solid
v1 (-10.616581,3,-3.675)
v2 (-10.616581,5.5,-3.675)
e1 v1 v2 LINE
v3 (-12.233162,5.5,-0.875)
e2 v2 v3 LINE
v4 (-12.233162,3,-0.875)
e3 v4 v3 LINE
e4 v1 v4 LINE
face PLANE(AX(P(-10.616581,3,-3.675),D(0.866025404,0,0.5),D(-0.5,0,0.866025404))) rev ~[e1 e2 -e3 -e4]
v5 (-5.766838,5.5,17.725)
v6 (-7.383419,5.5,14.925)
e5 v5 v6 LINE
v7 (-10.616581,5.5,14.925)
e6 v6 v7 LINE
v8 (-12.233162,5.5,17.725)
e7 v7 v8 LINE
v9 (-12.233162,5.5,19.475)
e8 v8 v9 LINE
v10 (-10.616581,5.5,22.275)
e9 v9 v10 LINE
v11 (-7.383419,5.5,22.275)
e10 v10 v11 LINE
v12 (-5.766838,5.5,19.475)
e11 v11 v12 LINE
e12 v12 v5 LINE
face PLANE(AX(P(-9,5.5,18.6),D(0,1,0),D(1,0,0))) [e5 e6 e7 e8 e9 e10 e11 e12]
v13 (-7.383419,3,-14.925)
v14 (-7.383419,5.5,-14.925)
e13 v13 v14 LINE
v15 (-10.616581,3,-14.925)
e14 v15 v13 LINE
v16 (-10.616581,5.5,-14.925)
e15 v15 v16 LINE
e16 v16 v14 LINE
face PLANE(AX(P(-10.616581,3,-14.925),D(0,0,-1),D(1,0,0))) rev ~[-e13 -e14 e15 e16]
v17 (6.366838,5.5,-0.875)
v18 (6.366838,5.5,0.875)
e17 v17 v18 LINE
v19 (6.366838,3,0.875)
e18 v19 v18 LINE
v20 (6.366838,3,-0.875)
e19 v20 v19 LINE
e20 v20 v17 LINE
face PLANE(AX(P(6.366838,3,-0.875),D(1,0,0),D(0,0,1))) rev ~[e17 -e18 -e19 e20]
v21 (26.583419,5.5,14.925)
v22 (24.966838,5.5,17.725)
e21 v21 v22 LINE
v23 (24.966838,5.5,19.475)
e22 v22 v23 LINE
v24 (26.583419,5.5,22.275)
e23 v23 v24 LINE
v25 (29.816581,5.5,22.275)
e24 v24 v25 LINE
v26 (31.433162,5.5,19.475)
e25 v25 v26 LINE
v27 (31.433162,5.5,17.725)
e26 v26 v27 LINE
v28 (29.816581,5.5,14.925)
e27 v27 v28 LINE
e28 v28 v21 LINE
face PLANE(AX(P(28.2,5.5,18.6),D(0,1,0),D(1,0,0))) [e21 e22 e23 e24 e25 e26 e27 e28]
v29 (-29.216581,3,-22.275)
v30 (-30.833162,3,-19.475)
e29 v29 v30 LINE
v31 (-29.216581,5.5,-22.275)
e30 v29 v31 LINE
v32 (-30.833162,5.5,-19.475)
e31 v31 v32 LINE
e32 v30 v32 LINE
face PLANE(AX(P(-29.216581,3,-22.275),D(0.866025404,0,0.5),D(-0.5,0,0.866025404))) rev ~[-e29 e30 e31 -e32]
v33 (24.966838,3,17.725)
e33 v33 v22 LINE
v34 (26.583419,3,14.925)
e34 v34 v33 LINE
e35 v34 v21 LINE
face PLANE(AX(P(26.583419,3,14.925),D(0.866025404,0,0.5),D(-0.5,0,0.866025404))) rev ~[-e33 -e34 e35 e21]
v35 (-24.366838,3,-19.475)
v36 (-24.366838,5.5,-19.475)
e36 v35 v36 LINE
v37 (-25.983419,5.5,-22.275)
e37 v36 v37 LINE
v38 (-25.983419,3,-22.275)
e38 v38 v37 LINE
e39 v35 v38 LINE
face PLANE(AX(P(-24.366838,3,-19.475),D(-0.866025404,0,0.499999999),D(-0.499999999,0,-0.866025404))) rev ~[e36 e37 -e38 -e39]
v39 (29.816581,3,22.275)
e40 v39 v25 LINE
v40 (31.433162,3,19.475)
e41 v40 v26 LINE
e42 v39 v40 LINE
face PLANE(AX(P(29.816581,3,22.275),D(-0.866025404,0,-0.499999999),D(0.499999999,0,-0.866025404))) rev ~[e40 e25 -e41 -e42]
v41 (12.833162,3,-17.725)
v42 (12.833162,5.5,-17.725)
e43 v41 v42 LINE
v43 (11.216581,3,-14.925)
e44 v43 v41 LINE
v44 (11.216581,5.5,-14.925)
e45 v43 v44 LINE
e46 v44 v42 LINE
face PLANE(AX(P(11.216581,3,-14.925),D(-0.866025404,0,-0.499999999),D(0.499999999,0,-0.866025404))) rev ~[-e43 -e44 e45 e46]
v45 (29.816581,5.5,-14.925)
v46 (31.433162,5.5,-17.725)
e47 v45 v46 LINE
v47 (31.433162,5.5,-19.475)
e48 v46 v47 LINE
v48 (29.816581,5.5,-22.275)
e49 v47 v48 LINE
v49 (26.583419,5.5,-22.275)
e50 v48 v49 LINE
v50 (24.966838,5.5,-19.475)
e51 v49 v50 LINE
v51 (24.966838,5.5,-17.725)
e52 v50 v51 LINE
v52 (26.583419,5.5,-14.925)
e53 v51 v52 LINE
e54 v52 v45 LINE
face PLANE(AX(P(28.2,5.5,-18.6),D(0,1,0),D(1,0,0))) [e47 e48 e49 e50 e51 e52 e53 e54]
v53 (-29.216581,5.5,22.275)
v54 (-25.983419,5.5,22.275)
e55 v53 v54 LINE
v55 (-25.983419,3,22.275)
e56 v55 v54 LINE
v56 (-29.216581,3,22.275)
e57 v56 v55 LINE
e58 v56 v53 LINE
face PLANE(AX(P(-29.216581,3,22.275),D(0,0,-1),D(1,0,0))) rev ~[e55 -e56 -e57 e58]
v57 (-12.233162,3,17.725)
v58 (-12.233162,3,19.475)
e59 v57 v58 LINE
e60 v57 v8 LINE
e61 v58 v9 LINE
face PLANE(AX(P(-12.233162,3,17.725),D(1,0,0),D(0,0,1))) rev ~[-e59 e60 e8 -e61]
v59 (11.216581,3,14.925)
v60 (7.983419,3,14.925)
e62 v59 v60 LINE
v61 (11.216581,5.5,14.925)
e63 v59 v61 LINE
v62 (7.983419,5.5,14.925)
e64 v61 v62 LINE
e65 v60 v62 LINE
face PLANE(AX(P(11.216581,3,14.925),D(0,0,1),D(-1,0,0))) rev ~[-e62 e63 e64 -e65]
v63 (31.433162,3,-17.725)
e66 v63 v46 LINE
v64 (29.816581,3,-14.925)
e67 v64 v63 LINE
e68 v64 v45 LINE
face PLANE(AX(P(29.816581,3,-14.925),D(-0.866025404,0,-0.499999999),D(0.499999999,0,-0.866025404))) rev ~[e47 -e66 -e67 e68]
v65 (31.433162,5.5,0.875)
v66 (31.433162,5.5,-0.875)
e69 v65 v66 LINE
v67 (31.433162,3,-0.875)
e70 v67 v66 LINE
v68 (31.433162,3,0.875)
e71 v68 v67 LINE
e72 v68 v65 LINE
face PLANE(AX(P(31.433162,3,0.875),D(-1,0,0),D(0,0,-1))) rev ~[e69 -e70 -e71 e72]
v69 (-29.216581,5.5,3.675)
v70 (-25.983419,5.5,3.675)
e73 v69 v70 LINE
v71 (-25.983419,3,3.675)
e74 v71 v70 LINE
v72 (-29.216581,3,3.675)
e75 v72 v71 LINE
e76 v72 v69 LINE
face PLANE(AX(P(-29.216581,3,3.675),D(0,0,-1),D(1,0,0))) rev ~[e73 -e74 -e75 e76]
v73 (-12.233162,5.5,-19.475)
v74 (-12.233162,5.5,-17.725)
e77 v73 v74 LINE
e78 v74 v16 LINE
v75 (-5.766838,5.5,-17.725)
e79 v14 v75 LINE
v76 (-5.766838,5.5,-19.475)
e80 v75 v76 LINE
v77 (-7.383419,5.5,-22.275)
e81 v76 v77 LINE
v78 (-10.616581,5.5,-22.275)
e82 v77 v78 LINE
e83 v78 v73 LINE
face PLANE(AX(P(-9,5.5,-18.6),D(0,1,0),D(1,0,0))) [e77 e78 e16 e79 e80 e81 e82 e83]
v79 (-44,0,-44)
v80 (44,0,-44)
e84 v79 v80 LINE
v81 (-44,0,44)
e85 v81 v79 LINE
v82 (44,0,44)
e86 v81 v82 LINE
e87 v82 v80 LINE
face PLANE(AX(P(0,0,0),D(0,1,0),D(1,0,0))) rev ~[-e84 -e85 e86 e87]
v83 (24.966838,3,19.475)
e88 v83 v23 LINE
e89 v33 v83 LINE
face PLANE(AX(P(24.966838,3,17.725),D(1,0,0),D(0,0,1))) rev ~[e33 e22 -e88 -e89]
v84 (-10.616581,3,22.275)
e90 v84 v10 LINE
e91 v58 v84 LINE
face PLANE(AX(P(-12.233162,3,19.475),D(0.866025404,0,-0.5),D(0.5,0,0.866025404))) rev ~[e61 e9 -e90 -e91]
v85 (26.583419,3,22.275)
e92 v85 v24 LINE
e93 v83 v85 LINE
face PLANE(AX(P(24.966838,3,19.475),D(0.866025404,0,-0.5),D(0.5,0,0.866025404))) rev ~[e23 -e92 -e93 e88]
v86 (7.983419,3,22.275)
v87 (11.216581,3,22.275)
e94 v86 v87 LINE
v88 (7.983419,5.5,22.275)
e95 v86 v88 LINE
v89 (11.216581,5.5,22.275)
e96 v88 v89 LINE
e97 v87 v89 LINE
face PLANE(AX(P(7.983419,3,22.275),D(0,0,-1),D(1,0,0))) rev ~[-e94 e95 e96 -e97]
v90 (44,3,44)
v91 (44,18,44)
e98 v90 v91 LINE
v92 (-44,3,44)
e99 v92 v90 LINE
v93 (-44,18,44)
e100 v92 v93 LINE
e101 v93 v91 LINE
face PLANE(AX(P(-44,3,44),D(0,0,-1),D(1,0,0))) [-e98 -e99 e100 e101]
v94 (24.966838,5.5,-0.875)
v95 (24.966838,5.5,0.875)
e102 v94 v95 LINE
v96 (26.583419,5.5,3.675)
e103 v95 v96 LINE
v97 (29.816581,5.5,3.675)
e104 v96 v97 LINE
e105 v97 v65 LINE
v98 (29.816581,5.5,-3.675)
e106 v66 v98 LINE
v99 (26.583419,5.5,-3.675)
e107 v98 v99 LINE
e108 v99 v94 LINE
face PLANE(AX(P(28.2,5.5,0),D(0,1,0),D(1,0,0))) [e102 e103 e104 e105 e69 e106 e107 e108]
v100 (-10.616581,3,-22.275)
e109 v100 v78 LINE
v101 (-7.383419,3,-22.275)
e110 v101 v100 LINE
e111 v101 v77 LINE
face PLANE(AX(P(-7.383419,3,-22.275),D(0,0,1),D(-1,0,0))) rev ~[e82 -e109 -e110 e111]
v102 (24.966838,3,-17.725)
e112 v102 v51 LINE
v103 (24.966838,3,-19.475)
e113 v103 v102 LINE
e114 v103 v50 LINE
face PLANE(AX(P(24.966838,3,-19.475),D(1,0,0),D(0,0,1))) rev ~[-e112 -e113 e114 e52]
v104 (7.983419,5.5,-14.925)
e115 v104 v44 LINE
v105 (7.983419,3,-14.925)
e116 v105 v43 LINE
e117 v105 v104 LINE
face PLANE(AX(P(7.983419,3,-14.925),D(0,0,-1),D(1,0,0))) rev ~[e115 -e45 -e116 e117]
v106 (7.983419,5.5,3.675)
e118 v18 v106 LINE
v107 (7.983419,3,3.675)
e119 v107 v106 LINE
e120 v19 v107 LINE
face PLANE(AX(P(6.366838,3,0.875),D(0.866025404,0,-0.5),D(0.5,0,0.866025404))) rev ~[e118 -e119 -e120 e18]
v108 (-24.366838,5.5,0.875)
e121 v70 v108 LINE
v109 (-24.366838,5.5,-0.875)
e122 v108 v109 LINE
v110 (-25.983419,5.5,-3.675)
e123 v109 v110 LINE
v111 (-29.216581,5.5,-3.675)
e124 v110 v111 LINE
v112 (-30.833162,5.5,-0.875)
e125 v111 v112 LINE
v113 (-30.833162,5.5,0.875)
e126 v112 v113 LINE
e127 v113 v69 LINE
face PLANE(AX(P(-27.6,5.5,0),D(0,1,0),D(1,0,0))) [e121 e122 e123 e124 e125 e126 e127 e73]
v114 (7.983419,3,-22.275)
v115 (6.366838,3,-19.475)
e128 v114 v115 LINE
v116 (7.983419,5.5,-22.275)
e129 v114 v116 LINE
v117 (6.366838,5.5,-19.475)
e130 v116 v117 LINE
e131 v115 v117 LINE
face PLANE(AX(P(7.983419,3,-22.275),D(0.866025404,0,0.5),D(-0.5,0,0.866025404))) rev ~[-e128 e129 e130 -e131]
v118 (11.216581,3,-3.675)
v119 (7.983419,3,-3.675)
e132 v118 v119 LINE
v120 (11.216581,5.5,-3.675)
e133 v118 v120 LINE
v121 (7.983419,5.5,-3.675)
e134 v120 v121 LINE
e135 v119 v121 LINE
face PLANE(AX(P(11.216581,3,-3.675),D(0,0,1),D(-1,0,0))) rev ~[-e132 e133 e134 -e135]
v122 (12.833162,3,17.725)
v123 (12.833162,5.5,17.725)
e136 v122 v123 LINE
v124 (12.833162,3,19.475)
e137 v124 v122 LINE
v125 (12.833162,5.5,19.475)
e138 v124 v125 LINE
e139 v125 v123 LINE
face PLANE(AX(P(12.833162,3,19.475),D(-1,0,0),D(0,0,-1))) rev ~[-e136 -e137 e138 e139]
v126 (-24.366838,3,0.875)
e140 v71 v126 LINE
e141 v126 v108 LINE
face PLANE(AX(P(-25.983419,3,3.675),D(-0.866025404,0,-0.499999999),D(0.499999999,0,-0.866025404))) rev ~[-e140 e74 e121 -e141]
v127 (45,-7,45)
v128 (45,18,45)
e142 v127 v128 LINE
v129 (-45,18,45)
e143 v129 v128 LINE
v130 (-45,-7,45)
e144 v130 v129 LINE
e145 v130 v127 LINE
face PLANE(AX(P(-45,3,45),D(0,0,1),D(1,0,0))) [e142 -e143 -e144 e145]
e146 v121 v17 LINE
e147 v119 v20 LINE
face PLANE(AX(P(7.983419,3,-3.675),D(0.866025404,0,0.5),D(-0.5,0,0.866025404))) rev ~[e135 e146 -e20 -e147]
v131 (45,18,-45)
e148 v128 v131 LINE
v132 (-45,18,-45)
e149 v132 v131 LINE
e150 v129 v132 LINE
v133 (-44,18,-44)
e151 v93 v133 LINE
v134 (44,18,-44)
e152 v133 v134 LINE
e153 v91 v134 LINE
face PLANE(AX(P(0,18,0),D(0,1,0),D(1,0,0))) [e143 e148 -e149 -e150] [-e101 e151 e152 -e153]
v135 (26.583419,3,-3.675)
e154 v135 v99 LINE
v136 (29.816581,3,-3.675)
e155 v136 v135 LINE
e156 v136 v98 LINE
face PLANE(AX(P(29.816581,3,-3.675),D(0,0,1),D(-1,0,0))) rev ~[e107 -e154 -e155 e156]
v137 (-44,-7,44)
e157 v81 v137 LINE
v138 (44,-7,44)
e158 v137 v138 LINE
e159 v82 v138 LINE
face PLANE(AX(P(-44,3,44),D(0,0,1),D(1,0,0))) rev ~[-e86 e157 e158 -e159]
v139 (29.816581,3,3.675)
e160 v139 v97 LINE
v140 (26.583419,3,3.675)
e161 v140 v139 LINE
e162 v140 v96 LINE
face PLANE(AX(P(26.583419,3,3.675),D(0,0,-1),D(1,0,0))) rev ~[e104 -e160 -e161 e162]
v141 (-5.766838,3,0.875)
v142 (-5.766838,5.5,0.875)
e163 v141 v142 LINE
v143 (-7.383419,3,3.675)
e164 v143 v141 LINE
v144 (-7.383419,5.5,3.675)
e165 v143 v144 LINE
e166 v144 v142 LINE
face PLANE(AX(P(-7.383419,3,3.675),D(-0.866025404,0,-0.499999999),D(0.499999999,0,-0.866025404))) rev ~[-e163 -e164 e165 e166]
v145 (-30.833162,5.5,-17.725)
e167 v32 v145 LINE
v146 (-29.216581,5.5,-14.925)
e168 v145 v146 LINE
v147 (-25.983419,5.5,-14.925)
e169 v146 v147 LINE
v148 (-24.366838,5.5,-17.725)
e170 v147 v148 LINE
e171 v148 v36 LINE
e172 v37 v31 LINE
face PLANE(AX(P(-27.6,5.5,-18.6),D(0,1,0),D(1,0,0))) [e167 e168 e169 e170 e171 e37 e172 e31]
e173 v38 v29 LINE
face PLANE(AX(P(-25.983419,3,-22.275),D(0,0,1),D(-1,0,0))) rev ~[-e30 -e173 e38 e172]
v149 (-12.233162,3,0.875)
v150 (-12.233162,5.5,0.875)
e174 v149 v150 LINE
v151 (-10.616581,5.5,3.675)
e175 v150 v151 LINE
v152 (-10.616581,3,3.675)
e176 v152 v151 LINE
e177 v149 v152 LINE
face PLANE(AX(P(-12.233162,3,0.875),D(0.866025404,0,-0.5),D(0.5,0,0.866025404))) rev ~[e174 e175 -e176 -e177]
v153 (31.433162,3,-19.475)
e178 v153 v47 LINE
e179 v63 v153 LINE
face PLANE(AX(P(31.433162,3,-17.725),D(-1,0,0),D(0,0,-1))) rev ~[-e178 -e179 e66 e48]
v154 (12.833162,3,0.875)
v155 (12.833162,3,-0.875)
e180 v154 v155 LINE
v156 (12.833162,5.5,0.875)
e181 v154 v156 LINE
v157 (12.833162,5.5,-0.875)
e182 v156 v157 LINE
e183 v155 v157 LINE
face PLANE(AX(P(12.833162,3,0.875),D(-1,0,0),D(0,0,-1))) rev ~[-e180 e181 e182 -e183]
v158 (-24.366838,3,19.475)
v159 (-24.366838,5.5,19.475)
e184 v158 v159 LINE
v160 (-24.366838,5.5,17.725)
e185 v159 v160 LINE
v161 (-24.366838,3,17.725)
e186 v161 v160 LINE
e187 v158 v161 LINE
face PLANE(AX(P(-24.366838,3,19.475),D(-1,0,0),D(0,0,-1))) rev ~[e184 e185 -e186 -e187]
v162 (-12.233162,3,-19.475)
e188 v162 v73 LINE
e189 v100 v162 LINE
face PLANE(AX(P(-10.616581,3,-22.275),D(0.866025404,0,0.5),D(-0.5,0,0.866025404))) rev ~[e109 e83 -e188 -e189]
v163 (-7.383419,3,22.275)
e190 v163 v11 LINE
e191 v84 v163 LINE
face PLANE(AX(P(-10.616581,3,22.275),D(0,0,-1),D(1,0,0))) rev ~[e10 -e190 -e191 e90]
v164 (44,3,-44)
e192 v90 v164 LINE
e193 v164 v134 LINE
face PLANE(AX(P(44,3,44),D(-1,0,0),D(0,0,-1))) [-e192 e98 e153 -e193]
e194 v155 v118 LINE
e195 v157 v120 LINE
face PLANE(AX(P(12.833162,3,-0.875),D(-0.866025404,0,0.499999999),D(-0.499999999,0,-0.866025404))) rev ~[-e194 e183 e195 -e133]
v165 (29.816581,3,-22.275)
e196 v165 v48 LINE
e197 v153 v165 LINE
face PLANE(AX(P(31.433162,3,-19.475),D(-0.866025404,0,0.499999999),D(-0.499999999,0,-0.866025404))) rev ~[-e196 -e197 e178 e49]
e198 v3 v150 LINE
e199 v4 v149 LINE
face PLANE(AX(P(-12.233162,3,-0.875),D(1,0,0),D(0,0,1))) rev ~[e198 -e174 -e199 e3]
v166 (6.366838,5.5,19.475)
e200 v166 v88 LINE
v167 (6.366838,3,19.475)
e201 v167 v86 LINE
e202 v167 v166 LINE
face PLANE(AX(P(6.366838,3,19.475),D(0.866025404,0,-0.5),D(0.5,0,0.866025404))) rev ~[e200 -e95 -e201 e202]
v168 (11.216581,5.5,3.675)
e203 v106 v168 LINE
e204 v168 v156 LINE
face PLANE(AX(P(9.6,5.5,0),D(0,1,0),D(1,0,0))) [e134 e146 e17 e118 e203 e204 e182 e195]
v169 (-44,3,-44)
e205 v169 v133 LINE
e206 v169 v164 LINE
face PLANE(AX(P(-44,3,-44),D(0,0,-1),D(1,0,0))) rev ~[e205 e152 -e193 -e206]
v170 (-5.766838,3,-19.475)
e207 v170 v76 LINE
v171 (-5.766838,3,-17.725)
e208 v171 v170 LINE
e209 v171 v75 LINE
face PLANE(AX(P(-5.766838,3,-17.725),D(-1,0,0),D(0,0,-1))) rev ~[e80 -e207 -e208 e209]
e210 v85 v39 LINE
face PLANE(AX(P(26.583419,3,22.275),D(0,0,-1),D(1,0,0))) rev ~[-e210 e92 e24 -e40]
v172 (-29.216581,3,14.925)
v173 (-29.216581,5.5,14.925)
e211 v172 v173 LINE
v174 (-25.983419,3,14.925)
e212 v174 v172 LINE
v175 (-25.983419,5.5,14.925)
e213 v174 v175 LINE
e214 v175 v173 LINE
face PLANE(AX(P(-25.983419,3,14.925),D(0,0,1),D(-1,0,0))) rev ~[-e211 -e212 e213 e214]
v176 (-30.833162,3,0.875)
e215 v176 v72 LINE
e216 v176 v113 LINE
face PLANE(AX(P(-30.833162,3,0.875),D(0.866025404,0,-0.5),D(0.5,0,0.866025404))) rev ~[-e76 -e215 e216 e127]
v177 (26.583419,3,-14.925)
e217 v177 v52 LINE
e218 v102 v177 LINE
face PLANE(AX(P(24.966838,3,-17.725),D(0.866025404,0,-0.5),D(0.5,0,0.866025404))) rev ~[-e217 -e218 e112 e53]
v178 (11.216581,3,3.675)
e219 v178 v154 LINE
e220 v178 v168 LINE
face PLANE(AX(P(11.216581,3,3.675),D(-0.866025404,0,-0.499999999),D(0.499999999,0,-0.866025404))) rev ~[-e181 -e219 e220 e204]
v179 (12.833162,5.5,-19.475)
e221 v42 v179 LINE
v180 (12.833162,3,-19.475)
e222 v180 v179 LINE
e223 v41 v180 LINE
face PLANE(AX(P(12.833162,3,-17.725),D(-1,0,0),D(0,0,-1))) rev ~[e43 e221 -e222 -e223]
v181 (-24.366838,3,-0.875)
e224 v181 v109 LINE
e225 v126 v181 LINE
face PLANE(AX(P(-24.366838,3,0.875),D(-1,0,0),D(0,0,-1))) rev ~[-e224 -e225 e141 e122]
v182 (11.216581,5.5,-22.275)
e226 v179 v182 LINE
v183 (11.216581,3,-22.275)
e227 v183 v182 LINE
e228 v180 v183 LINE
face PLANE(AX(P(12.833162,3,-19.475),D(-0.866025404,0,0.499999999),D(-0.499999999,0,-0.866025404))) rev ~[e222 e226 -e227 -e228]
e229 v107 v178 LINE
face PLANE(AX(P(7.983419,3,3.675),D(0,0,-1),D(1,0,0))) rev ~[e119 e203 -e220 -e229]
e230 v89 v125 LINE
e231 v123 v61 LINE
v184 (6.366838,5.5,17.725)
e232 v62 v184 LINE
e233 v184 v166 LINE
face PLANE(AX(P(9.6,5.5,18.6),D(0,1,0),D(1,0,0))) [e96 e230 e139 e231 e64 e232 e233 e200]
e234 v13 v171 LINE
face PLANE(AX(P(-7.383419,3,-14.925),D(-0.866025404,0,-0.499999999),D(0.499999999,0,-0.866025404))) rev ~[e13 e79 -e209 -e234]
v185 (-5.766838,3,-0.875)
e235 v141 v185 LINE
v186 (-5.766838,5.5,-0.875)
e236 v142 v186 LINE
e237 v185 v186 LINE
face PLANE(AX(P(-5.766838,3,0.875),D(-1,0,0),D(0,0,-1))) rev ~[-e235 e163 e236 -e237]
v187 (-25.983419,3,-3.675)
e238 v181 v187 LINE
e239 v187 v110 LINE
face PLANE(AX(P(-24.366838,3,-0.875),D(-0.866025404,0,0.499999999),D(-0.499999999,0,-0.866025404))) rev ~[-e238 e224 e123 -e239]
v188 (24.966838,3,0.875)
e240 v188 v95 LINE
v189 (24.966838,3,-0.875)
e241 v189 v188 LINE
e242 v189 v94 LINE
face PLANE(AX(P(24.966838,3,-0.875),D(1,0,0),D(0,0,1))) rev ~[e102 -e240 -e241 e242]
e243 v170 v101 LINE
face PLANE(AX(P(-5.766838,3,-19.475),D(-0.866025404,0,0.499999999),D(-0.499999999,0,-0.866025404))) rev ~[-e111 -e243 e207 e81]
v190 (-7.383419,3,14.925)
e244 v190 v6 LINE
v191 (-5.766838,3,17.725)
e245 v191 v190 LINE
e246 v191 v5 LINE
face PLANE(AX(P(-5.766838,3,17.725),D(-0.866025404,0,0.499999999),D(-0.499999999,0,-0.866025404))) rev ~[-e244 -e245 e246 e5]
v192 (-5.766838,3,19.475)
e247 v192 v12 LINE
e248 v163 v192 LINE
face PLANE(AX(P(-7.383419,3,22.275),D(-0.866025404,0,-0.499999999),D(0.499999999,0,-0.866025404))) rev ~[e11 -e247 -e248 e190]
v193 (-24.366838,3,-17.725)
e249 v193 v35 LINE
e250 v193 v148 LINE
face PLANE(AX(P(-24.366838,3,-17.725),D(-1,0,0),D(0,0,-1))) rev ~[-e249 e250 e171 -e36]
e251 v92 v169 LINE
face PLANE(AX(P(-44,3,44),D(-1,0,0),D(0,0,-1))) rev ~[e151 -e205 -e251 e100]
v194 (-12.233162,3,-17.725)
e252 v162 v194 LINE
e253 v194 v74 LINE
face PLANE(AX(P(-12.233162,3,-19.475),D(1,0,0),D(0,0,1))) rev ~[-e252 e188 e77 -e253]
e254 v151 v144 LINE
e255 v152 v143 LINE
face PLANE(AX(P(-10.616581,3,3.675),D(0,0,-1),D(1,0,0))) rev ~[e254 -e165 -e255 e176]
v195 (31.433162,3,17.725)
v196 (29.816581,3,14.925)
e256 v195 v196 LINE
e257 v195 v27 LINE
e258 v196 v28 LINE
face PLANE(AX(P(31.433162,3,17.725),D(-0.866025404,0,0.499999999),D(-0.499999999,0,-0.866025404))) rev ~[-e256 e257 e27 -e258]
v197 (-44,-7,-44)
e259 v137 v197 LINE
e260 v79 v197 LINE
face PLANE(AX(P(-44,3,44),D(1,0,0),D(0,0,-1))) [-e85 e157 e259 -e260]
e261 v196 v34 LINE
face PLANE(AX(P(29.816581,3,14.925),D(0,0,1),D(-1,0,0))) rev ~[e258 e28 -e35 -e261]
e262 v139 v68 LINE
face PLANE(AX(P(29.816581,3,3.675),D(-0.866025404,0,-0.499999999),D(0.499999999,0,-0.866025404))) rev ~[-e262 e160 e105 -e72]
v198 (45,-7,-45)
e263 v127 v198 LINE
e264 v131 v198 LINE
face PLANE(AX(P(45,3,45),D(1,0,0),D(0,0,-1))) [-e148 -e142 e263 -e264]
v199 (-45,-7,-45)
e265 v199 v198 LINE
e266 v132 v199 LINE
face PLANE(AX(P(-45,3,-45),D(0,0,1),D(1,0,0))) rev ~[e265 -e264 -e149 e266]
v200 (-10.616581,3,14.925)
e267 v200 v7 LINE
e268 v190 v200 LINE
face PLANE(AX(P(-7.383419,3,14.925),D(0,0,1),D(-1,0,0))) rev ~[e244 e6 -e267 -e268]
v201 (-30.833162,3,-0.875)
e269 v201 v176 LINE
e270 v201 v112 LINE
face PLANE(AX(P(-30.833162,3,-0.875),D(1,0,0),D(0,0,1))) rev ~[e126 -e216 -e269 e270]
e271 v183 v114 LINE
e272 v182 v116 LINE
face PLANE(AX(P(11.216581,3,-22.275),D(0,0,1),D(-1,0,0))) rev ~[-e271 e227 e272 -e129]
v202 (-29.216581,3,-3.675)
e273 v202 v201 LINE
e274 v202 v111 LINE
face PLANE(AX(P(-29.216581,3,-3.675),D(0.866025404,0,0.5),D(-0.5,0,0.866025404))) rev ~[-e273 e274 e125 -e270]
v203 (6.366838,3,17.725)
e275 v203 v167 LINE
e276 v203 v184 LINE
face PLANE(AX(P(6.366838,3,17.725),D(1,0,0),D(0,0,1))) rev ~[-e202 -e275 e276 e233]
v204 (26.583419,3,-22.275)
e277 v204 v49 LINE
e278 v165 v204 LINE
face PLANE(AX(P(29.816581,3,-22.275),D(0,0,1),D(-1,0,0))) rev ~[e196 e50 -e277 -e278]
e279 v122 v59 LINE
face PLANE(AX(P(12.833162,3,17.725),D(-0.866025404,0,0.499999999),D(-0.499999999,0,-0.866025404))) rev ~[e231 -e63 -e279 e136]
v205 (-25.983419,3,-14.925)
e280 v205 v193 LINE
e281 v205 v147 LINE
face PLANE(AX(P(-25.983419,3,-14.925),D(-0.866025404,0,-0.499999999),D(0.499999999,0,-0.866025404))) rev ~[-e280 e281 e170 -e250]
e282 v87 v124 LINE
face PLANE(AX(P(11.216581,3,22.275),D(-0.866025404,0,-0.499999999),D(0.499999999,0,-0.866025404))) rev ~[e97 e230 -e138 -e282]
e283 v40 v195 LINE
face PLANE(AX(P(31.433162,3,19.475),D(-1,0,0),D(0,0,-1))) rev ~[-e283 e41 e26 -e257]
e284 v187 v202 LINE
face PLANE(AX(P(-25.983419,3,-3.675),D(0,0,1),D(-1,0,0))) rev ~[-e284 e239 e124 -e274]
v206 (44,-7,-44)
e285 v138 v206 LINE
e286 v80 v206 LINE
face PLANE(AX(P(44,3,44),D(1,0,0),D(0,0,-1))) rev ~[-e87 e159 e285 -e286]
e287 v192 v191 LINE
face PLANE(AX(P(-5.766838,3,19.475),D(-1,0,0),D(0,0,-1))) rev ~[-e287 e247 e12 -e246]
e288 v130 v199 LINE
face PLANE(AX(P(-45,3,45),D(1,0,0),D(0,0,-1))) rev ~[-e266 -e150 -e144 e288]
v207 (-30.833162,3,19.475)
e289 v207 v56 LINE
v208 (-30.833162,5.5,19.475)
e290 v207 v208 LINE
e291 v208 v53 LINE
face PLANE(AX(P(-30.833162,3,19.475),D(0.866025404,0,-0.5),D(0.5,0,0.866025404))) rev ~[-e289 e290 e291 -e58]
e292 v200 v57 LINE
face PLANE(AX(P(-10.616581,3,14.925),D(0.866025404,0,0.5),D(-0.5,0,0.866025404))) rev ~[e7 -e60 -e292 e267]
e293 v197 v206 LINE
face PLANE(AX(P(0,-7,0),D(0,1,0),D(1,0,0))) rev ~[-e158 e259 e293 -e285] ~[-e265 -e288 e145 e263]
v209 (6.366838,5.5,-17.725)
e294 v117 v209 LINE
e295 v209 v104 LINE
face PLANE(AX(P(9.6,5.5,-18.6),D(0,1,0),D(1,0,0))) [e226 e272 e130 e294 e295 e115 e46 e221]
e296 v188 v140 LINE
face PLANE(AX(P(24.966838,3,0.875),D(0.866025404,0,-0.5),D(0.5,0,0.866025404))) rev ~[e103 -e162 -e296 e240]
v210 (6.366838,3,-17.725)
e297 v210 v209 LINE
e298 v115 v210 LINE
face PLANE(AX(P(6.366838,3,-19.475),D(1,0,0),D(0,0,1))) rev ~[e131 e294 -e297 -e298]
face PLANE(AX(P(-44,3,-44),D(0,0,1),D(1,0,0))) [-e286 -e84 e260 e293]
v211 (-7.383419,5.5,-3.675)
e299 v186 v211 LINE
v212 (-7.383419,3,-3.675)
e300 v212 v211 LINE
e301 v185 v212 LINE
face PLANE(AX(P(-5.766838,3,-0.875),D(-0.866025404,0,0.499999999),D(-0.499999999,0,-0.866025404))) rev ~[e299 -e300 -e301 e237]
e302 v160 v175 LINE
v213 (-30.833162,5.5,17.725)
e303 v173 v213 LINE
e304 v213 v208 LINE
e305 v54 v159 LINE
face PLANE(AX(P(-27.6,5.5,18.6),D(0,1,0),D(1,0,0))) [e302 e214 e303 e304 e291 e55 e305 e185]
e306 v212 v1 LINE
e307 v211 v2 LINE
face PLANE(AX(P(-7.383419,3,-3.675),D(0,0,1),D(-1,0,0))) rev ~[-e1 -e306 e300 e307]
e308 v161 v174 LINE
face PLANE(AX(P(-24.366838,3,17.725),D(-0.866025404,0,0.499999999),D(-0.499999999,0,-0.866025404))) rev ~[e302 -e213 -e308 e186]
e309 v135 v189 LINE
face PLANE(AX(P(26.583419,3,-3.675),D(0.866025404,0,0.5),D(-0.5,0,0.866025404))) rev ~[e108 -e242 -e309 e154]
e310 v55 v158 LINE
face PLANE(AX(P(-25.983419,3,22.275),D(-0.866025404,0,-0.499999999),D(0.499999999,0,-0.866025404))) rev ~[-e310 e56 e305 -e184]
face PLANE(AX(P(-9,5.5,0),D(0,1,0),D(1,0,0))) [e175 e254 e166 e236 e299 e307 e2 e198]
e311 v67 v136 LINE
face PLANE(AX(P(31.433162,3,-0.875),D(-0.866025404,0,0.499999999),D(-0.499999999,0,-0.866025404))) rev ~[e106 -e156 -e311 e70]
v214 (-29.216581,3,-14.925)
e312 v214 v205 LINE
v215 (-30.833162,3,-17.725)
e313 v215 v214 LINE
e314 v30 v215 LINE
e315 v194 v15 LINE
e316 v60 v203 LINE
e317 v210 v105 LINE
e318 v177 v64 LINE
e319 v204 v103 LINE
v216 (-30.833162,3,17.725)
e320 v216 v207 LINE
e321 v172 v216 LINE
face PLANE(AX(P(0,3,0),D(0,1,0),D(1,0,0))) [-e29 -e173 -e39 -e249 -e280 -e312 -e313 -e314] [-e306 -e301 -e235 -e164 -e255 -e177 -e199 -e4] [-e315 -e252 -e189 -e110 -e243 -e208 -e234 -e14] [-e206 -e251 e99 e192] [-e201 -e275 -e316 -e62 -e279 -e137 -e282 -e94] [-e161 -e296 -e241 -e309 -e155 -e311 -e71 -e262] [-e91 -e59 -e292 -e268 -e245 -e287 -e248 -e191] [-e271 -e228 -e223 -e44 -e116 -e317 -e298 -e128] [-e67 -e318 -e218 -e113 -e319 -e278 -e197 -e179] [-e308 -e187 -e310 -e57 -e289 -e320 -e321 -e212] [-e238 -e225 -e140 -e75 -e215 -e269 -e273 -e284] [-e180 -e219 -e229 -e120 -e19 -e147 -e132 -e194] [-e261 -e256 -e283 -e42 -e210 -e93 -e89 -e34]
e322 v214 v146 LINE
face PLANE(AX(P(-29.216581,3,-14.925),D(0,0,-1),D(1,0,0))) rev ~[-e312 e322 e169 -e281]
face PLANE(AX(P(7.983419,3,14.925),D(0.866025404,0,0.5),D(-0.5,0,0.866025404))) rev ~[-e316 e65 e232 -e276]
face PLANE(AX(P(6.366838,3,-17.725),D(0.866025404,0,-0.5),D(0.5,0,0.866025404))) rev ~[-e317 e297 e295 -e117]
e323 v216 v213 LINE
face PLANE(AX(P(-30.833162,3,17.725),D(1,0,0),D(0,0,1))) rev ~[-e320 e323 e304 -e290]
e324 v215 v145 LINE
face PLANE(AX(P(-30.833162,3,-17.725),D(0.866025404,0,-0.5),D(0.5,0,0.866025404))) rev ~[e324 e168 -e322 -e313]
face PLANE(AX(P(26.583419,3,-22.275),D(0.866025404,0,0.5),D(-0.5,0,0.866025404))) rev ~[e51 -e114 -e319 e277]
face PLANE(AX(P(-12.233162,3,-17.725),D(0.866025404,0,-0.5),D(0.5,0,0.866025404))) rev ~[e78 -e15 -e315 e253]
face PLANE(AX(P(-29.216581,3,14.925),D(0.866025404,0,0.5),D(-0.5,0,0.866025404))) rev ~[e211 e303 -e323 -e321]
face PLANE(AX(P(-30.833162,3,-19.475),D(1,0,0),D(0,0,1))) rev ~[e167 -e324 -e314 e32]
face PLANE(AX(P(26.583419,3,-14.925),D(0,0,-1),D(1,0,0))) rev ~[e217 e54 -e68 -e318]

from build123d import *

# Parameters (mm, degrees)
SKETCH1_W                = 90
SKETCH1_H                = 90
BOSS_EXTRUDE1_DEPTH      = 3
BOSS_EXTRUDE3_DEPTH      = 2.5
SKETCH6_W                = 90
SKETCH6_H                = 90
SKETCH6_W_2              = 88
SKETCH6_H_2              = 88
BOSS_EXTRUDE4_DEPTH      = 15
BOSS_EXTRUDE4_DEPTH_BACK = 10


with BuildPart() as part:
    # Sketch1 → Boss-Extrude1 (new body)
    with BuildSketch(Plane(origin=(0, 0, 0), x_dir=(1, 0, 0), z_dir=(0, 1, 0))):
        Rectangle(SKETCH1_W, SKETCH1_H)
    extrude(amount=BOSS_EXTRUDE1_DEPTH)

    # Sketch4 → Boss-Extrude3 (add)
    with BuildSketch(Plane(origin=(0, 3, 0), x_dir=(1, 0, 0), z_dir=(0, 1, 0))):
        Polygon((6.366838491, 0.875), (6.366838491, -0.875), (7.983419247, -3.675000002), (11.216580757, -3.675000001), (12.833161509, -0.875), (12.833161509, 0), (12.833161509, 0.875), (11.216580757, 3.675000001), (7.983419247, 3.675000002), align=None)
        Polygon((6.366838491, 19.475), (6.366838491, 17.725), (7.983419247, 14.924999998), (11.216580757, 14.924999999), (12.833161509, 17.725), (12.833161509, 18.6), (12.833161509, 19.475), (11.216580757, 22.275000001), (7.983419247, 22.275000002), align=None)
        Polygon((24.966838491, 0.875), (24.966838491, -0.875), (26.583419247, -3.675000002), (29.816580757, -3.675000001), (31.433161509, -0.875), (31.433161509, 0), (31.433161509, 0.875), (29.816580757, 3.675000001), (26.583419247, 3.675000002), align=None)
        Polygon((24.966838491, -17.725), (24.966838491, -19.475), (26.583419247, -22.275000002), (29.816580757, -22.275000001), (31.433161509, -19.475), (31.433161509, -18.6), (31.433161509, -17.725), (29.816580757, -14.924999999), (26.583419247, -14.924999998), align=None)
        Polygon((6.366838491, -17.725), (6.366838491, -19.475), (7.983419247, -22.275000002), (11.216580757, -22.275000001), (12.833161509, -19.475), (12.833161509, -18.6), (12.833161509, -17.725), (11.216580757, -14.924999999), (7.983419247, -14.924999998), align=None)
        Polygon((-30.833161509, 0.875), (-30.833161509, -0.875), (-29.216580753, -3.675000002), (-25.983419243, -3.675000001), (-24.366838491, -0.875), (-24.366838491, 0), (-24.366838491, 0.875), (-25.983419243, 3.675000001), (-29.216580753, 3.675000002), align=None)
        Polygon((-12.233161509, 0.875), (-12.233161509, -0.875), (-10.616580753, -3.675000002), (-7.383419243, -3.675000001), (-5.766838491, -0.875), (-5.766838491, 0), (-5.766838491, 0.875), (-7.383419243, 3.675000001), (-10.616580753, 3.675000002), align=None)
        Polygon((-12.233161509, -17.725), (-12.233161509, -19.475), (-10.616580753, -22.275000002), (-7.383419243, -22.275000001), (-5.766838491, -19.475), (-5.766838491, -18.6), (-5.766838491, -17.725), (-7.383419243, -14.924999999), (-10.616580753, -14.924999998), align=None)
        Polygon((-30.833161509, -17.725), (-30.833161509, -19.475), (-29.216580753, -22.275000002), (-25.983419243, -22.275000001), (-24.366838491, -19.475), (-24.366838491, -18.6), (-24.366838491, -17.725), (-25.983419243, -14.924999999), (-29.216580753, -14.924999998), align=None)
        Polygon((24.966838491, 19.475), (24.966838491, 17.725), (26.583419247, 14.924999998), (29.816580757, 14.924999999), (31.433161509, 17.725), (31.433161509, 18.6), (31.433161509, 19.475), (29.816580757, 22.275000001), (26.583419247, 22.275000002), align=None)
        Polygon((-30.833161509, 19.475), (-30.833161509, 17.725), (-29.216580753, 14.924999998), (-25.983419243, 14.924999999), (-24.366838491, 17.725), (-24.366838491, 18.6), (-24.366838491, 19.475), (-25.983419243, 22.275000001), (-29.216580753, 22.275000002), align=None)
        Polygon((-12.233161509, 19.475), (-12.233161509, 17.725), (-10.616580753, 14.924999998), (-7.383419243, 14.924999999), (-5.766838491, 17.725), (-5.766838491, 18.6), (-5.766838491, 19.475), (-7.383419243, 22.275000001), (-10.616580753, 22.275000002), align=None)
    extrude(amount=BOSS_EXTRUDE3_DEPTH)

    # Sketch6 → Boss-Extrude4 (add, two sides)
    with BuildSketch(Plane(origin=(0, 3, 0), x_dir=(1, 0, 0), z_dir=(0, 1, 0))) as boss_extrude4_sk:
        Rectangle(SKETCH6_W, SKETCH6_H)
        Rectangle(SKETCH6_W_2, SKETCH6_H_2, mode=Mode.SUBTRACT)
    extrude(amount=BOSS_EXTRUDE4_DEPTH)
    extrude(boss_extrude4_sk.sketch, amount=-BOSS_EXTRUDE4_DEPTH_BACK)


solid = part.part
